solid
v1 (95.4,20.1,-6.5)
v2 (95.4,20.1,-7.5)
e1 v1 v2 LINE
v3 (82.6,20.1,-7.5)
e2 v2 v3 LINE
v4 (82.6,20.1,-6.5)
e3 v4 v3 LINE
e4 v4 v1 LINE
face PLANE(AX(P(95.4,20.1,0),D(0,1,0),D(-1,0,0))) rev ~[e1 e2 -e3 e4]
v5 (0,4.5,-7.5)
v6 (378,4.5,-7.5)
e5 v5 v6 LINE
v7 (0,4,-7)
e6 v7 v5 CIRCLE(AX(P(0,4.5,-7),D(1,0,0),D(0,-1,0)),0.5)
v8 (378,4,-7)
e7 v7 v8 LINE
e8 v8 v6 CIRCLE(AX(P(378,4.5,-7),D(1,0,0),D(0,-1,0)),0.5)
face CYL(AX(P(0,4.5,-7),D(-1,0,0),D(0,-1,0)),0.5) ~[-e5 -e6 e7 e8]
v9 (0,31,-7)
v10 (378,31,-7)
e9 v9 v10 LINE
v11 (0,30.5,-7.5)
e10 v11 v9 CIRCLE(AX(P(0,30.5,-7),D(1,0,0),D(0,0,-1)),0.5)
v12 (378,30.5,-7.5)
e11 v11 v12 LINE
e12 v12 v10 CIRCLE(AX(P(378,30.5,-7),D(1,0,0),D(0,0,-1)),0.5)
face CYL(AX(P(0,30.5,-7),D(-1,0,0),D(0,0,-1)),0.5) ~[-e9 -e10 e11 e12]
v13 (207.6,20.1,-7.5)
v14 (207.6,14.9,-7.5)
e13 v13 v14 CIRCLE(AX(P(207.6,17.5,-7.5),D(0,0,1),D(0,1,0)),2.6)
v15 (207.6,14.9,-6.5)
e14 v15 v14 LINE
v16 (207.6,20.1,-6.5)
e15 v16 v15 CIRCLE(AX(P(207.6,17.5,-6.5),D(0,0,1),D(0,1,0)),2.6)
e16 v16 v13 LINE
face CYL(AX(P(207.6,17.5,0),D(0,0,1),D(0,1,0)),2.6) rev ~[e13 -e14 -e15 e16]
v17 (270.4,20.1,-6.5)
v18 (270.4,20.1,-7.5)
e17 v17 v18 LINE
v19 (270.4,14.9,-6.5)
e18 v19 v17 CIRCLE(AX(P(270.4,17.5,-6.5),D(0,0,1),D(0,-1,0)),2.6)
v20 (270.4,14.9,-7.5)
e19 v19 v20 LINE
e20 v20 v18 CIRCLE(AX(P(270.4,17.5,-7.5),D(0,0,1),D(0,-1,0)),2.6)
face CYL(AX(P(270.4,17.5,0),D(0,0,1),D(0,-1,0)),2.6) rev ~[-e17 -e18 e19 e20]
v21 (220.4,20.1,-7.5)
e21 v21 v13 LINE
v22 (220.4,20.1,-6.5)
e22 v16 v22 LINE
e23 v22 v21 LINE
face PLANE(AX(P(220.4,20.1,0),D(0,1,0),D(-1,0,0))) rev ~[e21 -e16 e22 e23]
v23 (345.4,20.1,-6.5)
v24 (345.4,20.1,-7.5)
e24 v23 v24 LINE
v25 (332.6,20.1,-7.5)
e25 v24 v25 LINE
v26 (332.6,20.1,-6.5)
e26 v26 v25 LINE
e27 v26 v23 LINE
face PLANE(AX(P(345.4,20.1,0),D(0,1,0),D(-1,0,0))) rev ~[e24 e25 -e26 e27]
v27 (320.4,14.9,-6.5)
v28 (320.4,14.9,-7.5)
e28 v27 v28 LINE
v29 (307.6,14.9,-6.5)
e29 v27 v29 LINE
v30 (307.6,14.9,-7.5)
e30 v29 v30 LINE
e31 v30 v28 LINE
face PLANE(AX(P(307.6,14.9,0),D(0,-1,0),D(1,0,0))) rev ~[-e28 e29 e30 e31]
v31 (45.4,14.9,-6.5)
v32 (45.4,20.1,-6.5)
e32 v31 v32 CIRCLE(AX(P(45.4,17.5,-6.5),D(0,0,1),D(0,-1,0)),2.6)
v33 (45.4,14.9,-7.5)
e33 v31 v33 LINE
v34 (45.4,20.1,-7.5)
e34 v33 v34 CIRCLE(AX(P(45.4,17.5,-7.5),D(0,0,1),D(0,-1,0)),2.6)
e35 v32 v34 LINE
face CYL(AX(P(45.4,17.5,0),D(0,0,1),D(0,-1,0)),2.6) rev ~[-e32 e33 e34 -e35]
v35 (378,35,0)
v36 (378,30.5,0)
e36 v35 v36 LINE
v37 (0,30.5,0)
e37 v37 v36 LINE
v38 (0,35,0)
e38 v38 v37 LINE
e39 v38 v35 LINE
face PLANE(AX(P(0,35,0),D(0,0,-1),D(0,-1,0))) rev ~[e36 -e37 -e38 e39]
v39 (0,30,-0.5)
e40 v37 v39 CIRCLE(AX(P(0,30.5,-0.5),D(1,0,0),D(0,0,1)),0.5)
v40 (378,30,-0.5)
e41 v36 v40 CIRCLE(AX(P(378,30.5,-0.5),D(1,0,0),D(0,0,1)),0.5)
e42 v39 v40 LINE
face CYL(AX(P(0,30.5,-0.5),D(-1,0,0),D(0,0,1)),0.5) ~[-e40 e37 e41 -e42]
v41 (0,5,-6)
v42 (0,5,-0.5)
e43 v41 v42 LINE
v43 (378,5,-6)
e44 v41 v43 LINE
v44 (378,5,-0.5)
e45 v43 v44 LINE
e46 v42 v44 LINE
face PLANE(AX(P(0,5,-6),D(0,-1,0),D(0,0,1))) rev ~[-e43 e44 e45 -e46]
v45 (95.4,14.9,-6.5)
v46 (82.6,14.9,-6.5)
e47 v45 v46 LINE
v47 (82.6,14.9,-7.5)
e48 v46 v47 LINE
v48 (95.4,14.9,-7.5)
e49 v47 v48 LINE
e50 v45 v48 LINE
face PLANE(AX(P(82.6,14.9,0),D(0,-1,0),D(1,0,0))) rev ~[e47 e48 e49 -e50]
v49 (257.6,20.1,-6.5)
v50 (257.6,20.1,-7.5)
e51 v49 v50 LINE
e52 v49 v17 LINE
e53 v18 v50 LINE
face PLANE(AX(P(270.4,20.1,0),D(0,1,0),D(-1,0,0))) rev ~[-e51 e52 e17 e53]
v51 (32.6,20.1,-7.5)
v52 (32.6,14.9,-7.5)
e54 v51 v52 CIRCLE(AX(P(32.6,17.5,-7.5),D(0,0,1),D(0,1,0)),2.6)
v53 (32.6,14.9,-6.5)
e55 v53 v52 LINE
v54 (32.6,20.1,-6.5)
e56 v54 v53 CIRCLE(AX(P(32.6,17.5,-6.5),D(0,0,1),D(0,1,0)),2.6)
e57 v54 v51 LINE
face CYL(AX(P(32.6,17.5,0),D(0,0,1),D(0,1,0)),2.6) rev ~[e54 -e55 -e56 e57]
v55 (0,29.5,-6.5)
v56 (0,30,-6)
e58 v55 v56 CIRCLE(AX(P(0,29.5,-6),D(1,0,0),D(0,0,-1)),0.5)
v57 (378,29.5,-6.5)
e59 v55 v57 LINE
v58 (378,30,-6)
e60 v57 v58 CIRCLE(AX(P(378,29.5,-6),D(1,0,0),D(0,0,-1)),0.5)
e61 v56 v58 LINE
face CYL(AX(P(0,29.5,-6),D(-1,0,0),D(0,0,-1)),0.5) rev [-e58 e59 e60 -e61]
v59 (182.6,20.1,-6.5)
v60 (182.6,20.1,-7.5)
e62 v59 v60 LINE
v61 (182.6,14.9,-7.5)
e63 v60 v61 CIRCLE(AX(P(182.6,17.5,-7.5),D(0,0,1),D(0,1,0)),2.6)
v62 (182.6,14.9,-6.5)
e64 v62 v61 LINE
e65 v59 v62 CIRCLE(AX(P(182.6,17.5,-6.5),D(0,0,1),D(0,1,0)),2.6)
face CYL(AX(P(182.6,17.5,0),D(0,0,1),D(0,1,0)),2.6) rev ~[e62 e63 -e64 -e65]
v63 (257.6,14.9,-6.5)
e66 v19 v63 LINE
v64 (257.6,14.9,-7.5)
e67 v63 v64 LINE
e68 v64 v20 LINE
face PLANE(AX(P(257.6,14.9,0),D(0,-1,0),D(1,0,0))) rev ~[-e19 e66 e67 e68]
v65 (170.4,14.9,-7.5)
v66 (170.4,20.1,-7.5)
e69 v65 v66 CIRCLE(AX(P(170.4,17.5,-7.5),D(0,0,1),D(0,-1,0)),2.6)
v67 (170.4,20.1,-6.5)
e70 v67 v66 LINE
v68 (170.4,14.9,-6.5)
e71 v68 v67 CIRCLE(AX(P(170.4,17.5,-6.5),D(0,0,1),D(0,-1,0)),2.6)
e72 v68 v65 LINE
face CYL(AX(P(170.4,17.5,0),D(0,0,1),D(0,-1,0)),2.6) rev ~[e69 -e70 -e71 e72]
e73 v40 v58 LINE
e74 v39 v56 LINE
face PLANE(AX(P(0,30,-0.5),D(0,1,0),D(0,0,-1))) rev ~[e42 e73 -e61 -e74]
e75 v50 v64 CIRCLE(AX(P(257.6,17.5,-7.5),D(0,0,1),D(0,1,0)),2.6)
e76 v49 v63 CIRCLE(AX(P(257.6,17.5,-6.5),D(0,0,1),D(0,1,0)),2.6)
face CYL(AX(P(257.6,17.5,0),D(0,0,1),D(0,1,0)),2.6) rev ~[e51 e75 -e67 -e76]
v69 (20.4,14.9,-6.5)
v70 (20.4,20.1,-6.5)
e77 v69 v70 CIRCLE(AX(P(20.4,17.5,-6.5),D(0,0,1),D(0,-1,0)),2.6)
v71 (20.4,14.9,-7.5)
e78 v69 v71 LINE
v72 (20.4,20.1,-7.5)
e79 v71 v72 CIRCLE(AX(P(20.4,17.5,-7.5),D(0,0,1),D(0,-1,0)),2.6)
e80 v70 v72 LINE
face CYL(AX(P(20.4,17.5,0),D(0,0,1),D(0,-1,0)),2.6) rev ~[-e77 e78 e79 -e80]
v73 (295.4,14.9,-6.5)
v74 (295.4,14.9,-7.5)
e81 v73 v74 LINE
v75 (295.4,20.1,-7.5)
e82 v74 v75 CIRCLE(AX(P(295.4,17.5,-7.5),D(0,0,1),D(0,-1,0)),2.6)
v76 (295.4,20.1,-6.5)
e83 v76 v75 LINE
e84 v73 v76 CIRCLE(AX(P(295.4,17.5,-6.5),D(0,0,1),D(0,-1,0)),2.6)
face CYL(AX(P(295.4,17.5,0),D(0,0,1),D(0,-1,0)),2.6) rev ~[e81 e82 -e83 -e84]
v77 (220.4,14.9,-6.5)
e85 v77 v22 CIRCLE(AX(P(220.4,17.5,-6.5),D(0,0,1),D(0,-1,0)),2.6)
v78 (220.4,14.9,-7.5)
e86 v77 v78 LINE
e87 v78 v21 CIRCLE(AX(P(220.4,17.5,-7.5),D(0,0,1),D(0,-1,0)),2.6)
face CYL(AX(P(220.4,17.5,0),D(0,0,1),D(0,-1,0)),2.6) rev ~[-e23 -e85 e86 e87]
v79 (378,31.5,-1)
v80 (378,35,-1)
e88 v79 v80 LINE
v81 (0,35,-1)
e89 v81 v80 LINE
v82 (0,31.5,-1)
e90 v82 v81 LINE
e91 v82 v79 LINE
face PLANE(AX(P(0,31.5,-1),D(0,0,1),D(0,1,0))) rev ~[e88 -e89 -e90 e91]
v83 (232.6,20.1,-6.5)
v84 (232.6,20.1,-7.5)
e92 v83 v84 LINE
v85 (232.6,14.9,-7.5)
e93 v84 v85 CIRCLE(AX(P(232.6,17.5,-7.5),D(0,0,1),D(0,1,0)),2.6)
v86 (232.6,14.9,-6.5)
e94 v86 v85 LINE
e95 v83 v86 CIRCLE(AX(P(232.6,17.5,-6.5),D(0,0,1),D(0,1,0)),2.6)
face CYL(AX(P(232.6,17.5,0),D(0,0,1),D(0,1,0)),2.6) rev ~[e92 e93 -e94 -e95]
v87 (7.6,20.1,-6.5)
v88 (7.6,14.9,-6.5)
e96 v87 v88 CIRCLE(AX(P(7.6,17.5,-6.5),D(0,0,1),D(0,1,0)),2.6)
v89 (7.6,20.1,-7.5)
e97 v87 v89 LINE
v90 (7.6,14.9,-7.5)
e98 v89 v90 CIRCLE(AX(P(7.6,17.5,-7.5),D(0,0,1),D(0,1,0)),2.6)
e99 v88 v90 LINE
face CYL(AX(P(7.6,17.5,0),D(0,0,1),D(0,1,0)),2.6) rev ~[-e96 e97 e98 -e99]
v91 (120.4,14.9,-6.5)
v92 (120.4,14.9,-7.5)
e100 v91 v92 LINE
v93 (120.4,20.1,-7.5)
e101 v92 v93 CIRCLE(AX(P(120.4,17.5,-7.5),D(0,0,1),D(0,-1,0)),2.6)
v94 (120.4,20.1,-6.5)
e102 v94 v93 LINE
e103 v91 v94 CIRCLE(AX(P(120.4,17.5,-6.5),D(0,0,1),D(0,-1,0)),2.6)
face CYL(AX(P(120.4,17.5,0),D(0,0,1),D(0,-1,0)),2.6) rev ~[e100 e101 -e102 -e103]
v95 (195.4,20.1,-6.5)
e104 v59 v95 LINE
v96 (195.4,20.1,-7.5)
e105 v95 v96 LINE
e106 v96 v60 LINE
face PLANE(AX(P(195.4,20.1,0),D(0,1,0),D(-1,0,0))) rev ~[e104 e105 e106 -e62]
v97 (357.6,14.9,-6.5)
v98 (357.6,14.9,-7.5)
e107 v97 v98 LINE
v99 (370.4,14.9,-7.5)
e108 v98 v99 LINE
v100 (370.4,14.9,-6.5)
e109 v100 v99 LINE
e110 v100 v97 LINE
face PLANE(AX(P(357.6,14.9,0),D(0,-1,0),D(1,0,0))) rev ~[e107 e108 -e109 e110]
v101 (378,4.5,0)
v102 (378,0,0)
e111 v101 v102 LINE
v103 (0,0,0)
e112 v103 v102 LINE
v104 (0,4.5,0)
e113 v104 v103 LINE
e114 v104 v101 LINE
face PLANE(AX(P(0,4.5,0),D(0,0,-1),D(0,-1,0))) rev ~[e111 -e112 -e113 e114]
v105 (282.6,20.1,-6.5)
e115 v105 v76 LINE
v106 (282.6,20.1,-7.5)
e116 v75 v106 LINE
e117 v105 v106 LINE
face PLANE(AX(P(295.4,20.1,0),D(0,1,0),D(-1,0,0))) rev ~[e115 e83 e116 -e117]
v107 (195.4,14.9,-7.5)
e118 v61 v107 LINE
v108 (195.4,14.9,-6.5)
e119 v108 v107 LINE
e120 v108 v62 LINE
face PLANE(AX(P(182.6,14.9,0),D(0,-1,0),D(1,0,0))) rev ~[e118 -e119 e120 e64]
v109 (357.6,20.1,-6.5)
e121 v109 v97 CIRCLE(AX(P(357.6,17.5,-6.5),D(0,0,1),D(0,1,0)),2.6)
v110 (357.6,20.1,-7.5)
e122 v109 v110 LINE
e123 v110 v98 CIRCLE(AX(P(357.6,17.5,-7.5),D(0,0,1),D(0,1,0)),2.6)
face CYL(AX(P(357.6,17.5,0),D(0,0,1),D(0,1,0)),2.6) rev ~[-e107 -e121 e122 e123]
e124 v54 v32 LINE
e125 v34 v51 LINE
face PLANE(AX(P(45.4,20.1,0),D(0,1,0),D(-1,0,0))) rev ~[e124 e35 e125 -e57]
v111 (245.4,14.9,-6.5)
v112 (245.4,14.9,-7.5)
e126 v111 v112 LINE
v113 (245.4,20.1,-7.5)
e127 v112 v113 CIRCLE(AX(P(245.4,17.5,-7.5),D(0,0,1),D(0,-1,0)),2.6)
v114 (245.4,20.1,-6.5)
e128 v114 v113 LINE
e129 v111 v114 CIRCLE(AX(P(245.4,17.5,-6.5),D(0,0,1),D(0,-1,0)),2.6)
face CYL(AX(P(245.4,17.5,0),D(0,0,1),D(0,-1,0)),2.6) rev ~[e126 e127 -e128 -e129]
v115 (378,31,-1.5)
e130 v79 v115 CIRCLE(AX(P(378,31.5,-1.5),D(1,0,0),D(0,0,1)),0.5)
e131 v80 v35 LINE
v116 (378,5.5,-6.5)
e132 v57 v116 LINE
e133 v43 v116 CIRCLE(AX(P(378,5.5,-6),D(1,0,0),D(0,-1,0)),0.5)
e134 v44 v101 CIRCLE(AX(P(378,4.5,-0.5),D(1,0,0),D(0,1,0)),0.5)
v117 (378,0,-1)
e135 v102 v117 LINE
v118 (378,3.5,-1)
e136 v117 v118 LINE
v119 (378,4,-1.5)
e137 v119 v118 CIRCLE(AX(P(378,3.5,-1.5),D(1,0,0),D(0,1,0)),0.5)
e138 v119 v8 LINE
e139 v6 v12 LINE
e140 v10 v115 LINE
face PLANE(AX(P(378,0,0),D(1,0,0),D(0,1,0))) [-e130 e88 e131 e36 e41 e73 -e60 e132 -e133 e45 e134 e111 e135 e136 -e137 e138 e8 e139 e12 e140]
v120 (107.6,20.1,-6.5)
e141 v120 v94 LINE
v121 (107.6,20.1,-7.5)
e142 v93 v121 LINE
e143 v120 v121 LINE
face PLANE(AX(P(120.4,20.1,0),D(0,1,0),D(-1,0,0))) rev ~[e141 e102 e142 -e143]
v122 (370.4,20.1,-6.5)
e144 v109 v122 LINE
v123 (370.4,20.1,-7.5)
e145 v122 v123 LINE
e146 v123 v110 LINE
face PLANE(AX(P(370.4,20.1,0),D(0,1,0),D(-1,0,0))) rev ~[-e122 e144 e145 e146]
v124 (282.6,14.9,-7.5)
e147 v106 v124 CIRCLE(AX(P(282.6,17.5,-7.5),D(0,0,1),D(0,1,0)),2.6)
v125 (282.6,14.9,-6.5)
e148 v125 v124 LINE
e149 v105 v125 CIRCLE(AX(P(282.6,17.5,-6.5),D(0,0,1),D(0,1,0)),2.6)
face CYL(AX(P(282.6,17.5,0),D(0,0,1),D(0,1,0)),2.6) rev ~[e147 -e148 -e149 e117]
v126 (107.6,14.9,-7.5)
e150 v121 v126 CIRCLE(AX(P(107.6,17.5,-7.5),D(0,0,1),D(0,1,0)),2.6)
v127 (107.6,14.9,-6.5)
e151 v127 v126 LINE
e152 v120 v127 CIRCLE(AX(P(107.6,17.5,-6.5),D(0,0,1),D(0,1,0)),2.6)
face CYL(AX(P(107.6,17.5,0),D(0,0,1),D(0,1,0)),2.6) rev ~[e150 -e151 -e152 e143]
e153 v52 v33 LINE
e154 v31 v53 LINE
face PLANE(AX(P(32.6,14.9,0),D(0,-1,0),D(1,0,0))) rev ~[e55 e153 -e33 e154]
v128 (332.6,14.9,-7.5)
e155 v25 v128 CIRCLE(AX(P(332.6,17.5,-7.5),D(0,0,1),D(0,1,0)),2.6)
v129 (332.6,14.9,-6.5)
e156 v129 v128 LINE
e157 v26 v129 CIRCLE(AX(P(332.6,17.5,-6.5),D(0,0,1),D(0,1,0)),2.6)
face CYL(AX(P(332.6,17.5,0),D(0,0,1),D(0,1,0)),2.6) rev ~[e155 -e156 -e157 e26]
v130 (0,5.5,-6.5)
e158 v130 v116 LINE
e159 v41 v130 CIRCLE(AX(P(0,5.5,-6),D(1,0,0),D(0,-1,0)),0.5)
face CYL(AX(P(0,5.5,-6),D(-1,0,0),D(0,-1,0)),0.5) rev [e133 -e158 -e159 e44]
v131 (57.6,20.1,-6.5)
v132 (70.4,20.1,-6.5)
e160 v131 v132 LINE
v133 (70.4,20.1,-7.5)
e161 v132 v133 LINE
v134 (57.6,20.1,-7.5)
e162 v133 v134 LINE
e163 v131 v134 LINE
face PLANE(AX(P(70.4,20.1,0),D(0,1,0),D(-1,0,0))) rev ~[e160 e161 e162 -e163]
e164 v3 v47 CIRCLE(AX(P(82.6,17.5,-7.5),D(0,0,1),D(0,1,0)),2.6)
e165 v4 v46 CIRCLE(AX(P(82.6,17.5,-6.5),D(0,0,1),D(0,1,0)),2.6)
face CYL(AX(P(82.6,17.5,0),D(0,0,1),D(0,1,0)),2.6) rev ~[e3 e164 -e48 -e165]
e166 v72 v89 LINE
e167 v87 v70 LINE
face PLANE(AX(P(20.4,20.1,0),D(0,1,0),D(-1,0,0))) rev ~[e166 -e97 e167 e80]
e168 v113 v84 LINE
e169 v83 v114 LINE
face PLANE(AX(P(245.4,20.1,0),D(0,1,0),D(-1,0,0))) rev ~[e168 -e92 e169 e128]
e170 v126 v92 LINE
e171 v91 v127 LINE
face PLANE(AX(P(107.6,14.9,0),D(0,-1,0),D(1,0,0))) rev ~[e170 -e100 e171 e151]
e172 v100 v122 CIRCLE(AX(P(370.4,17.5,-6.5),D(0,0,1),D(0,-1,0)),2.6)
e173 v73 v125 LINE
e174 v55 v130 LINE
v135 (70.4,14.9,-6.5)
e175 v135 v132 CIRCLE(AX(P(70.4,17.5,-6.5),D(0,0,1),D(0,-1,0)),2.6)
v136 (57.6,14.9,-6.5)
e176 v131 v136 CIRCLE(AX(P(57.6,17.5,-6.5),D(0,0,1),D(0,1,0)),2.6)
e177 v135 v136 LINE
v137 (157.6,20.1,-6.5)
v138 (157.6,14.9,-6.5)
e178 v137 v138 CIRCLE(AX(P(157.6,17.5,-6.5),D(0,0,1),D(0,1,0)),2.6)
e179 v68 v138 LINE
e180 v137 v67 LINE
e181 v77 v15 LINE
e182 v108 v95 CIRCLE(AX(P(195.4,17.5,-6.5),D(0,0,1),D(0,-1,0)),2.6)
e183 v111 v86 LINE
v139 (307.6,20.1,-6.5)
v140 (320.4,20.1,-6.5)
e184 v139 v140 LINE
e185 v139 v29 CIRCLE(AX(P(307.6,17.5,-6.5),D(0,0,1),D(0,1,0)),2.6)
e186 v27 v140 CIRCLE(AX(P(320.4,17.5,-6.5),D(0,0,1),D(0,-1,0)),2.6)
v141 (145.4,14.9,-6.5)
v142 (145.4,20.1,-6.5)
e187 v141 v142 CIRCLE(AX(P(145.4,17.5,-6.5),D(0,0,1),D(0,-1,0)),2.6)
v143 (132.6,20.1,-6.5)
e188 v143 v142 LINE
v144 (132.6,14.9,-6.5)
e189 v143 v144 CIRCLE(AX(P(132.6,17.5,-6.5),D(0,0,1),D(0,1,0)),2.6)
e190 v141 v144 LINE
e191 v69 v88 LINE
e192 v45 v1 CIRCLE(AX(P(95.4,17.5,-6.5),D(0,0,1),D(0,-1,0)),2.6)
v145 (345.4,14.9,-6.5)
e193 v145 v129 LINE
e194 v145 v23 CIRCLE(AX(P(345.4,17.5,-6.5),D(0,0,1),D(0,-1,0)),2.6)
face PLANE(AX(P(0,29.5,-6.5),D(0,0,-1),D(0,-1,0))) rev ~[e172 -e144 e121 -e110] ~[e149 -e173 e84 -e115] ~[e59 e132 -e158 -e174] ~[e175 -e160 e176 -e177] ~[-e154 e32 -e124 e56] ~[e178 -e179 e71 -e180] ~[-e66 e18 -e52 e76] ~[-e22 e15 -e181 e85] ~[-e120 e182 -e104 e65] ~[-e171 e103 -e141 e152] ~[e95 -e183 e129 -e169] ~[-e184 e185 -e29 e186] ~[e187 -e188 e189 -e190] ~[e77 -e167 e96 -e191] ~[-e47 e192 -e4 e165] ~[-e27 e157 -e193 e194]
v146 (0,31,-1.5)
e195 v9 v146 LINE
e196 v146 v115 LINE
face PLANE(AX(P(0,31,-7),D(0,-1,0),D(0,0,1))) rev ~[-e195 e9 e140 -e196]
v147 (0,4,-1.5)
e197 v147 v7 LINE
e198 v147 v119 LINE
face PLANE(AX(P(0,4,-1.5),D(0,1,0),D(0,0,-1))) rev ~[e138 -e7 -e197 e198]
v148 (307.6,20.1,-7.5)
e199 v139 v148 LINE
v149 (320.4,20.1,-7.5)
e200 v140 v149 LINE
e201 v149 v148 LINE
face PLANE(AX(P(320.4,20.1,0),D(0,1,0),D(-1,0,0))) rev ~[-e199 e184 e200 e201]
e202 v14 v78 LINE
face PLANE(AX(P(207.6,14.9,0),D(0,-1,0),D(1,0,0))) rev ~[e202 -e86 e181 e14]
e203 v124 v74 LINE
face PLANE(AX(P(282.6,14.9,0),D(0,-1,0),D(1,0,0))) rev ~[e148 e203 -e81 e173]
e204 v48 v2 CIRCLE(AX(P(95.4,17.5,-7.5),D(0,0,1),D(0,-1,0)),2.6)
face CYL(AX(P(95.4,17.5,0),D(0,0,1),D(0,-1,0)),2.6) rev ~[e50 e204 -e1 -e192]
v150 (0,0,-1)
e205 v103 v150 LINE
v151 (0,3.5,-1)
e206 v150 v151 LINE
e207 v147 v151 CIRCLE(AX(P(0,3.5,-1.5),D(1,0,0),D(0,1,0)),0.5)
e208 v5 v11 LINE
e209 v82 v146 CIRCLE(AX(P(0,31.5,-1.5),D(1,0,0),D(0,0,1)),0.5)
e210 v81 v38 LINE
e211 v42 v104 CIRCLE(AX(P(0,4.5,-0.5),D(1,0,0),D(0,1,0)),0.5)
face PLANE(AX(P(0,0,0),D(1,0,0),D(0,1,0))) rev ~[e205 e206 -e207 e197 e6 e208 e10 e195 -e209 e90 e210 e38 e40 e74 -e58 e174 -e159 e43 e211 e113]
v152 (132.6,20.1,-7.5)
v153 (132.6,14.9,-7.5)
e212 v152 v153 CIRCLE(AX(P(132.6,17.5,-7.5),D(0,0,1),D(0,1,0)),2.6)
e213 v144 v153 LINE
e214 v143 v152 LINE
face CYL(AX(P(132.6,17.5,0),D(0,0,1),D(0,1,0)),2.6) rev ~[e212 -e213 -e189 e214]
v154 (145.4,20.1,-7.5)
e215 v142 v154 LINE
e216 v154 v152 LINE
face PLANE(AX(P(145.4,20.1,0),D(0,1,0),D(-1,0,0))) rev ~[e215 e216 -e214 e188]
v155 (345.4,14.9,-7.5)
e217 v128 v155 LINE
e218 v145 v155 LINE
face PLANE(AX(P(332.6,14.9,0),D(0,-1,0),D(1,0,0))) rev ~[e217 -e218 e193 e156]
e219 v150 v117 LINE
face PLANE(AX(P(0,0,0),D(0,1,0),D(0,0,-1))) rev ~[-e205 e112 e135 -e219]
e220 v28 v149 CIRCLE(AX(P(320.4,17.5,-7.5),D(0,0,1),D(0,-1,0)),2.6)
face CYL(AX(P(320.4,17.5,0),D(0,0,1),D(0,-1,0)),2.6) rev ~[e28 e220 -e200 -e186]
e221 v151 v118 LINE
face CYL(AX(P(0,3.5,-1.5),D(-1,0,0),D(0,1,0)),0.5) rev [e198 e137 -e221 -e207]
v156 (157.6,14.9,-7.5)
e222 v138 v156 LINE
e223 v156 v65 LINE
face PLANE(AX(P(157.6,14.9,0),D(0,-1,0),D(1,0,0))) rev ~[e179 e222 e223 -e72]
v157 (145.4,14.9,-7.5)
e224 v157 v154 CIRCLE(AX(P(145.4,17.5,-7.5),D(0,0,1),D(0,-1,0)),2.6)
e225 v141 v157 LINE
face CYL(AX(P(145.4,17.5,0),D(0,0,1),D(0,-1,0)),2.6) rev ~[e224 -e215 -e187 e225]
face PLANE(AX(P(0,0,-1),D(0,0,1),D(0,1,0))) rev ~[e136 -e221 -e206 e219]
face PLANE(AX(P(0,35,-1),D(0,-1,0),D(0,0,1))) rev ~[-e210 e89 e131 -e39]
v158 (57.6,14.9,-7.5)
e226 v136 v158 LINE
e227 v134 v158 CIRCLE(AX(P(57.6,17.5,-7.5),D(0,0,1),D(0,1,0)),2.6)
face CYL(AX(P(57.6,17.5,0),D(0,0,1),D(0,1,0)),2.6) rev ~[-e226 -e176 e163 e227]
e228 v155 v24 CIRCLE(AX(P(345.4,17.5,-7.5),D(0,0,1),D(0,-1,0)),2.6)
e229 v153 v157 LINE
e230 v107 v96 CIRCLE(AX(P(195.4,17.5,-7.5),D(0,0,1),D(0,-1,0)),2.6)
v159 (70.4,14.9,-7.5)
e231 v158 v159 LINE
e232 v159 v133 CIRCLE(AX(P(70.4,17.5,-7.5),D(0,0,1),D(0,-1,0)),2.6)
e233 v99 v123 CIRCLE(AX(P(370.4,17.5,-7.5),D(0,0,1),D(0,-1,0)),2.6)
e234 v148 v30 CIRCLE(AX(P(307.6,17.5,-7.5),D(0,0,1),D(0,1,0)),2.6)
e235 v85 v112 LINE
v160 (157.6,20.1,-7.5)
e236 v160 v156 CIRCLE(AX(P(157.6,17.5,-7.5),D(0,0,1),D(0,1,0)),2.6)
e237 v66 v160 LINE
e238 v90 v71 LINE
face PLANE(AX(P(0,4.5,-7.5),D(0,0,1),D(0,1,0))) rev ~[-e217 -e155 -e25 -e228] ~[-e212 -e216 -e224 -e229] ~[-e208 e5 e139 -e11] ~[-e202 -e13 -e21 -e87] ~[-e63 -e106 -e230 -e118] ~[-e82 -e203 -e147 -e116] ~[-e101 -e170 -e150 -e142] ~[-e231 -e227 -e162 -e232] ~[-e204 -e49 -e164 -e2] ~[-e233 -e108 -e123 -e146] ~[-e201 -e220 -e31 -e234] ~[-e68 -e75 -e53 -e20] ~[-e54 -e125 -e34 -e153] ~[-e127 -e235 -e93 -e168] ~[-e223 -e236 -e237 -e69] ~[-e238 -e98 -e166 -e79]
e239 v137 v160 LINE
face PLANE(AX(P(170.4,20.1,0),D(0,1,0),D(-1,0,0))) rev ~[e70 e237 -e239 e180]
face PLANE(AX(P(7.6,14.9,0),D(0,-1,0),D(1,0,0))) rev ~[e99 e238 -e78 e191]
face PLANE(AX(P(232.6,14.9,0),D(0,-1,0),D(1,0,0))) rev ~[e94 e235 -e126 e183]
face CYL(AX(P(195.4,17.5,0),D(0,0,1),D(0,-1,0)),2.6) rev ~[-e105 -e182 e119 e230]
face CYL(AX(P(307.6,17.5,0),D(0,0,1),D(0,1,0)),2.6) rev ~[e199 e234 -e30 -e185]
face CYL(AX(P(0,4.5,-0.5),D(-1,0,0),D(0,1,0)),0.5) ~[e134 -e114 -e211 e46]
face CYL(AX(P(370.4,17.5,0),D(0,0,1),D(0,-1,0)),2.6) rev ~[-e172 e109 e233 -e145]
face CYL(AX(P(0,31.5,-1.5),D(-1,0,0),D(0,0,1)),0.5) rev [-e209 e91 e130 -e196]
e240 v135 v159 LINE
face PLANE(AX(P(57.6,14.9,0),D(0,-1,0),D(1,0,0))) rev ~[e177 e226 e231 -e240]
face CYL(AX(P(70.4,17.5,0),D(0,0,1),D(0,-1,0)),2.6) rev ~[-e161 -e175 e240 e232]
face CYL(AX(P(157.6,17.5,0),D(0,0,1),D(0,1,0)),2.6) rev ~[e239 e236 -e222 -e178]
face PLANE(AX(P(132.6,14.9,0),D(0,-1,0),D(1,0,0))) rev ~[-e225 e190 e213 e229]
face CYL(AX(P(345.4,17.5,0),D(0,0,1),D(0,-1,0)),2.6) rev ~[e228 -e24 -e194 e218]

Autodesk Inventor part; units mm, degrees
ref_plane "YZ Plane" through (0, 0, 0) normal (1, 0, 0) x (0, 1, 0)
ref_plane "XZ Plane" through (0, 0, 0) normal (0, 1, 0) x (-1, 0, 0)
ref_plane "XY Plane" through (0, 0, 0) normal (0, 0, 1) x (1, 0, 0)
sketch "Boceto principal" plane through (0, 0, 0) normal (1, 0, 0) x (0, 1, 0)
  line L0 (0, 0) -> (0, -1)
  line L1 (0, -1) -> (3.5, -1)
  line L2 (4, -1.5) -> (4, -7)
  line L3 (4.5, -7.5) -> (30.5, -7.5)
  line L4 (31, -7) -> (31, -1.5)
  line L5 (31.5, -1) -> (35, -1)
  line L6 (35, -1) -> (35, 0)
  line L7 (35, 0) -> (30.5, 0)
  line L8 (30, -0.5) -> (30, -6)
  line L9 (29.5, -6.5) -> (5.5, -6.5)
  line L10 (5, -6) -> (5, -0.5)
  line L11 (4.5, 0) -> (0, 0)
  arc A0 (4, -1.5) -> (3.5, -1) centre (3.5, -1.5) ccw
  arc A1 (4, -7) -> (4.5, -7.5) centre (4.5, -7) ccw
  arc A2 (30.5, -7.5) -> (31, -7) centre (30.5, -7) ccw
  arc A3 (31.5, -1) -> (31, -1.5) centre (31.5, -1.5) ccw
  arc A4 (30.5, 0) -> (30, -0.5) centre (30.5, -0.5) ccw
  arc A5 (29.5, -6.5) -> (30, -6) centre (29.5, -6) ccw
  arc A6 (5, -6) -> (5.5, -6.5) centre (5.5, -6) ccw
  arc A7 (5, -0.5) -> (4.5, 0) centre (4.5, -0.5) ccw
extrude "Extrusion1" add sketch "Boceto principal" along normal blind 378
sketch "Boceto agujeros" plane through (0, 0, 0) normal (0, 0, 1) x (1, 0, 0)
  line L0 (7.6, 14.9) -> (20.4, 14.9)
  line L1 (20.4, 20.1) -> (7.6, 20.1)
  arc A0 (7.6, 20.1) -> (7.6, 14.9) centre (7.6, 17.5) ccw
  arc A1 (20.4, 14.9) -> (20.4, 20.1) centre (20.4, 17.5) ccw
extrude "Extrusion2" cut sketch "Boceto agujeros" against normal blind 15
pattern_linear "Rectangular Pattern1" count 16 spacing 25 along (1, 0, 0) of "Extrusion2"
properties part number "Riel 35x7.5 378mm" material "Steel, Galvanized"
